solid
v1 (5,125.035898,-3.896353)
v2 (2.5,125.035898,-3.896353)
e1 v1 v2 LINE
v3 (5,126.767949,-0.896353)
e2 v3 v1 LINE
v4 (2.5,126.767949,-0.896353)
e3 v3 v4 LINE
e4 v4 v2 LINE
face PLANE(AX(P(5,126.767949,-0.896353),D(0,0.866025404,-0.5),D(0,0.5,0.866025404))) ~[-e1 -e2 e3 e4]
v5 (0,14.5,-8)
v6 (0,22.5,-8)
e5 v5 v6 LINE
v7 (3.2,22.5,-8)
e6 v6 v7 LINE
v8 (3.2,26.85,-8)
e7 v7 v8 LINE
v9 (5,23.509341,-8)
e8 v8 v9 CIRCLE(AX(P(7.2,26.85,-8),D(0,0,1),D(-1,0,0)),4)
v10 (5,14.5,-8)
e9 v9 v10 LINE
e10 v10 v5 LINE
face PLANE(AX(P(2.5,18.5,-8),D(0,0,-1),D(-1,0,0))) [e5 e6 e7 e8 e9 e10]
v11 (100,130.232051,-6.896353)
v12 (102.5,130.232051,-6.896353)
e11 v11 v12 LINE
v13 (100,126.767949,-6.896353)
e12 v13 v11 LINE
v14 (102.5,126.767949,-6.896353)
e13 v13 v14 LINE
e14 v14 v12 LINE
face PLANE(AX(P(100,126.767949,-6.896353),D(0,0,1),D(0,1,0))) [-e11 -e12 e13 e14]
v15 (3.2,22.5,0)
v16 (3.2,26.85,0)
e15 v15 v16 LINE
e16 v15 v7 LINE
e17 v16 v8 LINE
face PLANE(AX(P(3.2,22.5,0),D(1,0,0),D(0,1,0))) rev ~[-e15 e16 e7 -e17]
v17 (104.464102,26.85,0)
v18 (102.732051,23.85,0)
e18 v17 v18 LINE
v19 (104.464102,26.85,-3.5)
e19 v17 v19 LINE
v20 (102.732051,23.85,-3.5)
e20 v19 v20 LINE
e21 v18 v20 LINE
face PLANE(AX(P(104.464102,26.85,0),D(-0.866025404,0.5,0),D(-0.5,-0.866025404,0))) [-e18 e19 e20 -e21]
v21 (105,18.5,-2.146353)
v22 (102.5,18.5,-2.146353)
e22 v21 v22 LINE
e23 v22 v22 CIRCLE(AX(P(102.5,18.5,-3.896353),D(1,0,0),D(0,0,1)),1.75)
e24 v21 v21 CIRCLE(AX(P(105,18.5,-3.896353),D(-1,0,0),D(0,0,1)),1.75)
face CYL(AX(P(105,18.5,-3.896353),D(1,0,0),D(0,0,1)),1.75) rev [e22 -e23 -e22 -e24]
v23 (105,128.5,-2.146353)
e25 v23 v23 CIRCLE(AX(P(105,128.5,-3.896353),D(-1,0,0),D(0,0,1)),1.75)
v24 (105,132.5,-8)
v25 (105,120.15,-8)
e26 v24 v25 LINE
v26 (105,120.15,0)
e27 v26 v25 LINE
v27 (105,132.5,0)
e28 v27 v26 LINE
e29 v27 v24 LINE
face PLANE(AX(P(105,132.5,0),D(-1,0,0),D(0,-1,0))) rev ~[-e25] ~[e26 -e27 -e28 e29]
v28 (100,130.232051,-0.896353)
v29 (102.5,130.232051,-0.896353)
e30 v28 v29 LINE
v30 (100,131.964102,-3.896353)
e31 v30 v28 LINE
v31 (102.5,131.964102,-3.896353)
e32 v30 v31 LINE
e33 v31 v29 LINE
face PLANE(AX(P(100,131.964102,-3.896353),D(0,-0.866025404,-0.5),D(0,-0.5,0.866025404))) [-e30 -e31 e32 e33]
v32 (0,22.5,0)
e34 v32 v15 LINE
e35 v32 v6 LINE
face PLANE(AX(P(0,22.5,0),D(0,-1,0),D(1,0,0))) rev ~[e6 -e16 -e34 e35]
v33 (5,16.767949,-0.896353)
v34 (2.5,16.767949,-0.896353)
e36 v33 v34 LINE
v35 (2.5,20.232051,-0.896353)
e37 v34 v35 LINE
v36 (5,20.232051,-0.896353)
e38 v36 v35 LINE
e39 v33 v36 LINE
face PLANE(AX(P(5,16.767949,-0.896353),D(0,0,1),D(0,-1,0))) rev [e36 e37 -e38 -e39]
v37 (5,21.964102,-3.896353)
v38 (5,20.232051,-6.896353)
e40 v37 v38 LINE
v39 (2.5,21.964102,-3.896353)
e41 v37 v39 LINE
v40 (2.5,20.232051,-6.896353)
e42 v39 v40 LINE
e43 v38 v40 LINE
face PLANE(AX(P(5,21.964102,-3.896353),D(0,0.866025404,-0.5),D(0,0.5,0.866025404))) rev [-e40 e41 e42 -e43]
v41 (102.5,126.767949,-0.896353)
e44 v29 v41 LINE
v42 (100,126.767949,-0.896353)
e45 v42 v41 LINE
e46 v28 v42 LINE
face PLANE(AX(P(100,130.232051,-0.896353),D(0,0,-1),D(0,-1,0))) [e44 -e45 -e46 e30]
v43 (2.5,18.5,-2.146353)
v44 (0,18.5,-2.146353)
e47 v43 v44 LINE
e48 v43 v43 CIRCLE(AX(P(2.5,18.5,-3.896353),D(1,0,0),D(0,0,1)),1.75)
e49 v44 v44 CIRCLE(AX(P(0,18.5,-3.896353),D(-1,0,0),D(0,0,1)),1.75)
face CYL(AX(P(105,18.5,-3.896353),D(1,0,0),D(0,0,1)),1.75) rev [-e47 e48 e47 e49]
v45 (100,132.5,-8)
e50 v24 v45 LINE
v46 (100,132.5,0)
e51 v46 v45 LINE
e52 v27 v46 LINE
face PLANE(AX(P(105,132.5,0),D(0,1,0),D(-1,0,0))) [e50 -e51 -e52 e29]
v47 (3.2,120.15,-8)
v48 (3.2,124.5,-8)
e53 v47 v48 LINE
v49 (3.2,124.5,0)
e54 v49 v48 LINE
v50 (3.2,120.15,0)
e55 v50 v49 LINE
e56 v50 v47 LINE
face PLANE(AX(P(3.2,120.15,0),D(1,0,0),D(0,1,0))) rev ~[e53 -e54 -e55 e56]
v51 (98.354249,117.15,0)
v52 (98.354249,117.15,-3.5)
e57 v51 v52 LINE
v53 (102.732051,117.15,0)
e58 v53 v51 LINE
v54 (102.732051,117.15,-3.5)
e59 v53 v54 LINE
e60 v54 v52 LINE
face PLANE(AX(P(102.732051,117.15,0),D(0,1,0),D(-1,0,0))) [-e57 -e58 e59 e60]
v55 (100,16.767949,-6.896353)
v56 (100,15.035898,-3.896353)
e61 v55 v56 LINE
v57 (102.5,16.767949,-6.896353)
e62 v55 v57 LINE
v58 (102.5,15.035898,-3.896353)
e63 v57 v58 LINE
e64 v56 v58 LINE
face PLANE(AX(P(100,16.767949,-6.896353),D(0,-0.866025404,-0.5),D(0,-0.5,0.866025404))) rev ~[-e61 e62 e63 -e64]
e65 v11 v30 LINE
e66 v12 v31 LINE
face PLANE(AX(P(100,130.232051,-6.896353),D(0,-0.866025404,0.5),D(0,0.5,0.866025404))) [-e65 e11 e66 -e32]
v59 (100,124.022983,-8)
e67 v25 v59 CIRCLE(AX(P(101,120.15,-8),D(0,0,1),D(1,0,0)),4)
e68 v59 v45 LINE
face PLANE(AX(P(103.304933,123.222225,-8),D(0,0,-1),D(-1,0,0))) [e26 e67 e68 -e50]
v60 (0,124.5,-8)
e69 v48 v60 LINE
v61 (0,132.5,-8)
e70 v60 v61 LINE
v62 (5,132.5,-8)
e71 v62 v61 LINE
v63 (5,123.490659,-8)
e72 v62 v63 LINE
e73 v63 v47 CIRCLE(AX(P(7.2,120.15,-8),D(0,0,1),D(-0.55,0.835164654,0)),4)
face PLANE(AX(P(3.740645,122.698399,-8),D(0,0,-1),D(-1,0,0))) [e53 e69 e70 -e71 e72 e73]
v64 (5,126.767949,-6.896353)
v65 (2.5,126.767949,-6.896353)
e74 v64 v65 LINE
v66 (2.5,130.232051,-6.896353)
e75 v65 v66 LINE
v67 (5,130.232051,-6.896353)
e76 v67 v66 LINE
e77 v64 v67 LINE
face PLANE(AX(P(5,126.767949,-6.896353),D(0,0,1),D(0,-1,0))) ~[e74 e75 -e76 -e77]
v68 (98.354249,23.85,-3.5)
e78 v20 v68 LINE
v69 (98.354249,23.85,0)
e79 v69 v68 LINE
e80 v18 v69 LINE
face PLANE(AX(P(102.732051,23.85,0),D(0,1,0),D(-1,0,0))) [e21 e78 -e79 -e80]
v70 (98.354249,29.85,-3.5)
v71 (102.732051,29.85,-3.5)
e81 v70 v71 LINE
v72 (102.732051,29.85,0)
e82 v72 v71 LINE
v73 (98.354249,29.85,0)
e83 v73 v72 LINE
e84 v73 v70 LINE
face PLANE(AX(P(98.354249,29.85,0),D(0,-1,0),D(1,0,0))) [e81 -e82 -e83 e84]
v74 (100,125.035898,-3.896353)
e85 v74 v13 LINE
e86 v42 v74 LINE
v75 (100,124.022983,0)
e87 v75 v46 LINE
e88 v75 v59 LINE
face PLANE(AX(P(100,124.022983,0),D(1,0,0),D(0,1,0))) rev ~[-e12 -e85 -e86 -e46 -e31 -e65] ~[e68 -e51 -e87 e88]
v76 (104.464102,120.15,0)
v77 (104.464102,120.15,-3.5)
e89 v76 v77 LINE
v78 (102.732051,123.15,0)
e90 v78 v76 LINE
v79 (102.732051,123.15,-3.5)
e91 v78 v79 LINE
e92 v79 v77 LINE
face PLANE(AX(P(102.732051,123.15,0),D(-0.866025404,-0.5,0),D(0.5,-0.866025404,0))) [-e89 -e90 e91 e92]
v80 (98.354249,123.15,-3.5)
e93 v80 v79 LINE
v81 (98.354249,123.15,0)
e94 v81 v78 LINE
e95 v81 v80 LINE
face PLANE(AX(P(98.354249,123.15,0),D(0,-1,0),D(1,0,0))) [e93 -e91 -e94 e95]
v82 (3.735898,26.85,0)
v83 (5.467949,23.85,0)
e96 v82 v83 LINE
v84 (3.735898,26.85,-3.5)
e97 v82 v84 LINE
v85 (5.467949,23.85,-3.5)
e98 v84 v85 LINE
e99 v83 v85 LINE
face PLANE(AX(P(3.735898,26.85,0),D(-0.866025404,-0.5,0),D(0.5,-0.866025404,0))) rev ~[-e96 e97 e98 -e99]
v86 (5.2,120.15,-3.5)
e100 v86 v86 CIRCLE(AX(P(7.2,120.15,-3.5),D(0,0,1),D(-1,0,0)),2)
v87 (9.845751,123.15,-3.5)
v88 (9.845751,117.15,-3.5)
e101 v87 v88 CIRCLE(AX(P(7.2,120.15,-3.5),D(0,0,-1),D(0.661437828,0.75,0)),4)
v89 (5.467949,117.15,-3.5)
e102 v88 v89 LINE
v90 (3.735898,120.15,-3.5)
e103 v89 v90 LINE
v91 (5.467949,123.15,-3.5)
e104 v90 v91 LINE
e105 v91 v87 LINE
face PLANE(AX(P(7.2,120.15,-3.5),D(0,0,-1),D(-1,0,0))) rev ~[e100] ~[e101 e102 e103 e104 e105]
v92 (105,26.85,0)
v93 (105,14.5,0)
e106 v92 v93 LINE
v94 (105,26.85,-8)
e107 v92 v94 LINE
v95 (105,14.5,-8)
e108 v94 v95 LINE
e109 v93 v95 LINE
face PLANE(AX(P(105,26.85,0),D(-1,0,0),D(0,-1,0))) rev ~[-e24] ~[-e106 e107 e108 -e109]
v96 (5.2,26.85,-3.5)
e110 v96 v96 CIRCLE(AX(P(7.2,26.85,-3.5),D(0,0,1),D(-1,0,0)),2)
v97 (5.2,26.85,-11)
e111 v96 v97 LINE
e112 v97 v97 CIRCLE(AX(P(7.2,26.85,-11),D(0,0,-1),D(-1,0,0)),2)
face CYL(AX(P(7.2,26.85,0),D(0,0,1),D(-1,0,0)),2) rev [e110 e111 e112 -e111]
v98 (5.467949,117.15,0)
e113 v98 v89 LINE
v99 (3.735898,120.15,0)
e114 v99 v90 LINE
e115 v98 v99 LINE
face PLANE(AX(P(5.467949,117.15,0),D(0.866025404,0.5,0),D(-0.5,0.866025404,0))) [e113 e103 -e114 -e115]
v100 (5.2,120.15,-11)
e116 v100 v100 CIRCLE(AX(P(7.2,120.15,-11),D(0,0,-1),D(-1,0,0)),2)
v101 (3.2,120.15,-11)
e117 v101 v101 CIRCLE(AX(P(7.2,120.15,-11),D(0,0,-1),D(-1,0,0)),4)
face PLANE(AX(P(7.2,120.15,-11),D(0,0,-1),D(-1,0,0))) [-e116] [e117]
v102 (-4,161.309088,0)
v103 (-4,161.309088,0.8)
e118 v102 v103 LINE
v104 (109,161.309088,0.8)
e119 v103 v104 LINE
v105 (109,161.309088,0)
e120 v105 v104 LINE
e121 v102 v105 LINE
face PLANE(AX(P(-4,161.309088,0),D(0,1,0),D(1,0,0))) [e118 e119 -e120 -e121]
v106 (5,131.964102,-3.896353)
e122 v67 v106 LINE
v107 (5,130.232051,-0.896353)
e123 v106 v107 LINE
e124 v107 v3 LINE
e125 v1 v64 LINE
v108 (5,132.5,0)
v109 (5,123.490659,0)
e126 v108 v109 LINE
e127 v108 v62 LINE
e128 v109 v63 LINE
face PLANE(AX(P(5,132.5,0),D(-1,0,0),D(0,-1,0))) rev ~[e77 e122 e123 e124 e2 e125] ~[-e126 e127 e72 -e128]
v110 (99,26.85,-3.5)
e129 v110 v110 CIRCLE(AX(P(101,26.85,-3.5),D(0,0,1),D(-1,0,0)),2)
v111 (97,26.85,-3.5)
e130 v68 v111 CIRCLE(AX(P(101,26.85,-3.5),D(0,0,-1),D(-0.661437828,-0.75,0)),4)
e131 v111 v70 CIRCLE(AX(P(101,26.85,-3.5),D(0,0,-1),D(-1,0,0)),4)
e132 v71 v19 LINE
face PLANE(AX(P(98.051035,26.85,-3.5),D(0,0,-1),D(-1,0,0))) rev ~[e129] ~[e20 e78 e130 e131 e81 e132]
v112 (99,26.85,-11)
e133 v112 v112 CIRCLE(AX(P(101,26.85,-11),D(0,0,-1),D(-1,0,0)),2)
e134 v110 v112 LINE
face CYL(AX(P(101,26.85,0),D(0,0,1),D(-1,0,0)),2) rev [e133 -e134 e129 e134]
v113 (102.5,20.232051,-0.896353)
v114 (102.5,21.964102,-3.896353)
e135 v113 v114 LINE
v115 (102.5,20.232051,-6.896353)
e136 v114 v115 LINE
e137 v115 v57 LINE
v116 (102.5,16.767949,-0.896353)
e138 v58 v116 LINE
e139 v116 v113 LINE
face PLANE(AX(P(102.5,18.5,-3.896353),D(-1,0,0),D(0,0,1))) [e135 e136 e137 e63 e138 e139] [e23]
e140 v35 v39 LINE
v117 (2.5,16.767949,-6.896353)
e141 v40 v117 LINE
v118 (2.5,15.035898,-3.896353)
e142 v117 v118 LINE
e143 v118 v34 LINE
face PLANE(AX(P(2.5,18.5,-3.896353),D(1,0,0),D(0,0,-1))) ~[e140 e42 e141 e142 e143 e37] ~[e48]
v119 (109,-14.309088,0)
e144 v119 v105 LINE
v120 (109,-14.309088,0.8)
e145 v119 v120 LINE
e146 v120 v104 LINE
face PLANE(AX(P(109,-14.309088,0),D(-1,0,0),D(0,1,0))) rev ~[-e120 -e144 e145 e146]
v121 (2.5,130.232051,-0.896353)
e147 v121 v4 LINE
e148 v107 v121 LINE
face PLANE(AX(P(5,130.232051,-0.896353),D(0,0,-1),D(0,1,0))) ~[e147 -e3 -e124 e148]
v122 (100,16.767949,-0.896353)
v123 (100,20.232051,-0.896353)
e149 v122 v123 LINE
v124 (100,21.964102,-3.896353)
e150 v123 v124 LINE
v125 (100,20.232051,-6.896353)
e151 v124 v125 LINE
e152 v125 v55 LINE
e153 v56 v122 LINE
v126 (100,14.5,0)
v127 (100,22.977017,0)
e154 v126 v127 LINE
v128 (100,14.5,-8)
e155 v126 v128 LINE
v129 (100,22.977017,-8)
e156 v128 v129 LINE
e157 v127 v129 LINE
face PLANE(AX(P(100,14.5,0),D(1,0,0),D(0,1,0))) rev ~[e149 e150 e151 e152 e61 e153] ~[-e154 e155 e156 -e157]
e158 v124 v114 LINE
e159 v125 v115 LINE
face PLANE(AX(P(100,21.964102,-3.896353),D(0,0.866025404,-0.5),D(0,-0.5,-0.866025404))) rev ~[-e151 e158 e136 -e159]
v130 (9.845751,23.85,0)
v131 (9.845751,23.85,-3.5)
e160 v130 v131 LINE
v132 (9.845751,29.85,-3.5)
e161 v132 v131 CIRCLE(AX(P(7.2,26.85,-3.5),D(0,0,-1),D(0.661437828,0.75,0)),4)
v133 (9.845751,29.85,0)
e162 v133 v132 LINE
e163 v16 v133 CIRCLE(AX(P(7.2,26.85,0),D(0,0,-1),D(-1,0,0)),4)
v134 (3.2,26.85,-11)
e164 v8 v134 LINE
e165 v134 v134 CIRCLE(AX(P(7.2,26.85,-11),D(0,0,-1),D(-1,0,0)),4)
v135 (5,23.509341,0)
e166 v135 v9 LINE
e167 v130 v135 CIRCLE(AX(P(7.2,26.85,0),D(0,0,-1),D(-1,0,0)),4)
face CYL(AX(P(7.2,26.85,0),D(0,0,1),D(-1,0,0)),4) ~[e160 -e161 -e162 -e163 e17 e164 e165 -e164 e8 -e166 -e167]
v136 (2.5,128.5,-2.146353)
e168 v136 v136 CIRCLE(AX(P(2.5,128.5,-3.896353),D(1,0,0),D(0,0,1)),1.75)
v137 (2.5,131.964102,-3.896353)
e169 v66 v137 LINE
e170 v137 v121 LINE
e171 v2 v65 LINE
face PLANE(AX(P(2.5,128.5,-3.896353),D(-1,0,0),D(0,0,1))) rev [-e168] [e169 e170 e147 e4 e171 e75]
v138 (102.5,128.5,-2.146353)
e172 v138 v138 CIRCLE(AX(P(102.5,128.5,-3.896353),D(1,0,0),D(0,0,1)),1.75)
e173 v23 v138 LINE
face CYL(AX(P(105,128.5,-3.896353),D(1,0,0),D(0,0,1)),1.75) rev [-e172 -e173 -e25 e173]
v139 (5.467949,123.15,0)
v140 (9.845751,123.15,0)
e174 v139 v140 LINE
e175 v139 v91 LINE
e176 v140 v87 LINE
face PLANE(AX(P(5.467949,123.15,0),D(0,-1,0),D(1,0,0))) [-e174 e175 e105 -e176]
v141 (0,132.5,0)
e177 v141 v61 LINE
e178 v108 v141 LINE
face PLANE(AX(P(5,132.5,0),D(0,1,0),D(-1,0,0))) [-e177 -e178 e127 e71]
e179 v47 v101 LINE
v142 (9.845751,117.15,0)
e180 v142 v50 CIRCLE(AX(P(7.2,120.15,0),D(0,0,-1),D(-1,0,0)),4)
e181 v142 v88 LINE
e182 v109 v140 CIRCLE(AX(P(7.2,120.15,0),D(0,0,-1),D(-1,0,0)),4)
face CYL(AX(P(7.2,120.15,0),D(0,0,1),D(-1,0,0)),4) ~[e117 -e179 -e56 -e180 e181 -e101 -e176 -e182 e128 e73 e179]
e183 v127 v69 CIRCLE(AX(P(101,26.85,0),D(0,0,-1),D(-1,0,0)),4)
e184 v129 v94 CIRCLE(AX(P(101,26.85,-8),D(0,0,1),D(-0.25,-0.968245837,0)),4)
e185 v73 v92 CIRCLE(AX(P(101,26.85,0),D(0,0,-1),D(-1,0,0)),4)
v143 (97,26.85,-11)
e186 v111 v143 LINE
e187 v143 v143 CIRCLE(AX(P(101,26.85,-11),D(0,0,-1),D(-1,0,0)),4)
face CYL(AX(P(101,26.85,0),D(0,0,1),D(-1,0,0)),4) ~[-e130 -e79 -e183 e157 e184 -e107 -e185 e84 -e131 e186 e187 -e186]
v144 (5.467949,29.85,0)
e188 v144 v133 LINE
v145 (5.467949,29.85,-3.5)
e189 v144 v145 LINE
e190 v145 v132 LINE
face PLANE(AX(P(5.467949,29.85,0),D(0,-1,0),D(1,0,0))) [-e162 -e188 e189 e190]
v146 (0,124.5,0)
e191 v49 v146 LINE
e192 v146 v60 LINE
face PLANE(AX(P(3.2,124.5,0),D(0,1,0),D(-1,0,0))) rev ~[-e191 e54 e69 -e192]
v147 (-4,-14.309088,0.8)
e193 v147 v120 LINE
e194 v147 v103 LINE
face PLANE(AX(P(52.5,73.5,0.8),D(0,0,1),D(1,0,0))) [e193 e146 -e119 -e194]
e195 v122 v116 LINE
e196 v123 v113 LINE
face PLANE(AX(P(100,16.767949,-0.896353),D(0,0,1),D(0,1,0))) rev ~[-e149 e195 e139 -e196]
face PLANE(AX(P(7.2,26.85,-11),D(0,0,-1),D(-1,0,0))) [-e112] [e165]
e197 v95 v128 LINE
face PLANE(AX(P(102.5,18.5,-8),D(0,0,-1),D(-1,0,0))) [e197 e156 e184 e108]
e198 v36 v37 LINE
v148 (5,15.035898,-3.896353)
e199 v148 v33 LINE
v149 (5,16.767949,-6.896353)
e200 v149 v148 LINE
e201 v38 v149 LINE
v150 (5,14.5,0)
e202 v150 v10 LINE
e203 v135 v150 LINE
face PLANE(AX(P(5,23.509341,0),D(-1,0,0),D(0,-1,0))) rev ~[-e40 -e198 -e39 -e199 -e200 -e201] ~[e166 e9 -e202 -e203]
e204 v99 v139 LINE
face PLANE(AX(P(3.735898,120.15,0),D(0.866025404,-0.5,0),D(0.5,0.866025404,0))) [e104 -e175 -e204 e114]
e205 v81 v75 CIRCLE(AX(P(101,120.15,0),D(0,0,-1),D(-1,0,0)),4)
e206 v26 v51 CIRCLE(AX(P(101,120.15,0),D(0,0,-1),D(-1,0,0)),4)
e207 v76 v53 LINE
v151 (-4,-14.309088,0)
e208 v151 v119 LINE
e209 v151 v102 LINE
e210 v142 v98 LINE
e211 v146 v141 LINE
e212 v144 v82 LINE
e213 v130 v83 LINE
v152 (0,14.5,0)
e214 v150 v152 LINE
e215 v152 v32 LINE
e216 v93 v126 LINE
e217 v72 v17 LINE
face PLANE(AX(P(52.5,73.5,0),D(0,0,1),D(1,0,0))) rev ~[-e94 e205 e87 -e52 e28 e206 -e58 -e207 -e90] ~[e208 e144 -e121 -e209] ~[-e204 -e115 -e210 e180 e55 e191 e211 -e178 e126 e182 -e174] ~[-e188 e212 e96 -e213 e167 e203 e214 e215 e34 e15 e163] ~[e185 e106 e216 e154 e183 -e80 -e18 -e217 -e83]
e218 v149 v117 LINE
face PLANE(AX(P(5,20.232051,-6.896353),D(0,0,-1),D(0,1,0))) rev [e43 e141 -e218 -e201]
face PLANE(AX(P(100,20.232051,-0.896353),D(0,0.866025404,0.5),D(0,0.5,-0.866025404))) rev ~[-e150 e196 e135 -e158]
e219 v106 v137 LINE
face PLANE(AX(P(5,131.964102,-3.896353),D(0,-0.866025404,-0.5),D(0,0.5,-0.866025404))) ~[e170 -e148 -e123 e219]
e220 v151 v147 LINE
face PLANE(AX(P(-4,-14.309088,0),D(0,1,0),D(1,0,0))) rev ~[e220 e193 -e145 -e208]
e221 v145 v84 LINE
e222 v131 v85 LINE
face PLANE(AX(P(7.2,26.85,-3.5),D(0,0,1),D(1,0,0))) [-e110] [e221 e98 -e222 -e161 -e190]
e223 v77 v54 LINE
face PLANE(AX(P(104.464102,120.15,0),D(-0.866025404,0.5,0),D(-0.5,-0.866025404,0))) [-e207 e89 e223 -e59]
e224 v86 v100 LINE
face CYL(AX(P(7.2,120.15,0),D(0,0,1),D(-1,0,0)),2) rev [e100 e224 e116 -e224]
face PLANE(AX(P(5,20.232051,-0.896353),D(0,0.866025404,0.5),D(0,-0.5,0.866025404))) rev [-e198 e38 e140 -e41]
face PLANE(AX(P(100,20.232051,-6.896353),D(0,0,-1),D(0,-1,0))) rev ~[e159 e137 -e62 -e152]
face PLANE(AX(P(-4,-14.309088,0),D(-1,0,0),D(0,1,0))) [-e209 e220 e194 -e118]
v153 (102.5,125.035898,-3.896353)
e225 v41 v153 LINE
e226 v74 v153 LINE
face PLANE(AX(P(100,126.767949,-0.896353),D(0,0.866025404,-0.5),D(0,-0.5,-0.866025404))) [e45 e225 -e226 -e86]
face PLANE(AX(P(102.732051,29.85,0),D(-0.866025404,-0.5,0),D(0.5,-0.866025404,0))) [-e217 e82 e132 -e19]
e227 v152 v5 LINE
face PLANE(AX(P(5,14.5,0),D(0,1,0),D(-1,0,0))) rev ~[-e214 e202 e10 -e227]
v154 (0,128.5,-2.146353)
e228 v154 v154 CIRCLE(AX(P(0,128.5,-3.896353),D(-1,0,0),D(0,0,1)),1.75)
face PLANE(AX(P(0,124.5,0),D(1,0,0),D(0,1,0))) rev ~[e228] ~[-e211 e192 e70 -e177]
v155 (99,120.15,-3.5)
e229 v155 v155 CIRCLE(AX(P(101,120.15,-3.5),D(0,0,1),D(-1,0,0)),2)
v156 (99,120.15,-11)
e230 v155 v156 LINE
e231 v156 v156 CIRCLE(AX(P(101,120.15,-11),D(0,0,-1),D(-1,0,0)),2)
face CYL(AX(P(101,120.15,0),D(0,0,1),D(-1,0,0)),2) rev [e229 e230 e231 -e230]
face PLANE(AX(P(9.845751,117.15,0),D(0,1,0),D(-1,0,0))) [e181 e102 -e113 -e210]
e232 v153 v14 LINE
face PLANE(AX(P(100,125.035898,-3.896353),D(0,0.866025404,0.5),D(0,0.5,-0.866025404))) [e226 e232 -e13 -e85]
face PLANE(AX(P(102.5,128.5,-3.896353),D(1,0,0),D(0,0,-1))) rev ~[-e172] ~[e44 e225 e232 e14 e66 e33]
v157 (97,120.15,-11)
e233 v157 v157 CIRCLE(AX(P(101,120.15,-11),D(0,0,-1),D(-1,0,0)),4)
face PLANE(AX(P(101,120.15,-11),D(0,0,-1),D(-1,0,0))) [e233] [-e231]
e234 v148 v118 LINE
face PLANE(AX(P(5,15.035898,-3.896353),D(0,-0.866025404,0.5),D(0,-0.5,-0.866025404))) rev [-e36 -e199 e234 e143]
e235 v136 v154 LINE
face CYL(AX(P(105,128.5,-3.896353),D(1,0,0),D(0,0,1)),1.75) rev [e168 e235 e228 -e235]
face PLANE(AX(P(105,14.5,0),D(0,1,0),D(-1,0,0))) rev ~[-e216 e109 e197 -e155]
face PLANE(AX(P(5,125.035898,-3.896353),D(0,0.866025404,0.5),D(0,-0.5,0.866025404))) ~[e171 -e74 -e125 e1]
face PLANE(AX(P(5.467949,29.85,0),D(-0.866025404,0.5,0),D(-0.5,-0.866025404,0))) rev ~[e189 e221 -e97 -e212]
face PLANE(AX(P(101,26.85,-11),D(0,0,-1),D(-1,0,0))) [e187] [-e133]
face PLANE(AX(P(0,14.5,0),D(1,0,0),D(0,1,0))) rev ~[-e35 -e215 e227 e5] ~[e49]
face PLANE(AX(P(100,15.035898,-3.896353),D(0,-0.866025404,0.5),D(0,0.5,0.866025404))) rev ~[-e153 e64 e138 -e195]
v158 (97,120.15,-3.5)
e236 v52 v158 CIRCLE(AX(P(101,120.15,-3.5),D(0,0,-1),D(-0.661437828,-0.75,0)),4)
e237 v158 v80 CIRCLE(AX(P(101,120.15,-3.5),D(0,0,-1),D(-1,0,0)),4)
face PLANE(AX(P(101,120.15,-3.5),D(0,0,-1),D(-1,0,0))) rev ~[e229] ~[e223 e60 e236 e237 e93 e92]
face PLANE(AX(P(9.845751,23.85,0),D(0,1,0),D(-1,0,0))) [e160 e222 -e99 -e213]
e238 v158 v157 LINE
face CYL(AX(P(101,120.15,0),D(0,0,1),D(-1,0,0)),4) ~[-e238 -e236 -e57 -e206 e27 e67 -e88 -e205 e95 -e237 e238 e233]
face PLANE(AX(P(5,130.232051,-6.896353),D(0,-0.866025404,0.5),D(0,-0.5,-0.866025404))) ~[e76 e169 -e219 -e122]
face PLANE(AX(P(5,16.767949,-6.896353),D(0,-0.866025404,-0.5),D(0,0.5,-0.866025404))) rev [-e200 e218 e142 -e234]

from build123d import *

# Parameters (mm, degrees)
SKETCH1_W           = 113
SKETCH1_H           = 175.618176042
BOSS_EXTRUDE1_DEPTH = 0.8
SKETCH2_R           = 4
SKETCH2_R_2         = 2
BOSS_EXTRUDE2_DEPTH = 11
CUT_EXTRUDE1_DEPTH  = 3.5
SKETCH4_W           = 5
SKETCH4_H           = 8
BOSS_EXTRUDE3_DEPTH = 8
SKETCH5_R           = 1.75
CUT_EXTRUDE2_DEPTH  = 105
CUT_EXTRUDE3_DEPTH  = 2.5


with BuildPart() as part:
    # Sketch1 → Boss-Extrude1 (new body)
    with BuildSketch(Plane.XY):
        with Locations((52.5, 73.5)):
            Rectangle(SKETCH1_W, SKETCH1_H)
    extrude(amount=BOSS_EXTRUDE1_DEPTH)

    # Sketch2 → Boss-Extrude2 (add)
    with BuildSketch(Plane(origin=(0, 0, 0), x_dir=(-1, 0, 0), z_dir=(0, 0, -1))):
        with Locations((-7.2, 120.15)):
            Circle(SKETCH2_R)
        with Locations((-7.2, 120.15)):
            Circle(SKETCH2_R_2, mode=Mode.SUBTRACT)
        with Locations((-7.2, 26.85)):
            Circle(SKETCH2_R)
        with Locations((-7.2, 26.85)):
            Circle(SKETCH2_R_2, mode=Mode.SUBTRACT)
        with Locations((-101, 26.85)):
            Circle(SKETCH2_R)
        with Locations((-101, 26.85)):
            Circle(SKETCH2_R_2, mode=Mode.SUBTRACT)
        with Locations((-101, 120.15)):
            Circle(SKETCH2_R)
        with Locations((-101, 120.15)):
            Circle(SKETCH2_R_2, mode=Mode.SUBTRACT)
    extrude(amount=BOSS_EXTRUDE2_DEPTH)

    # Sketch3 → Cut-Extrude1 (cut)
    with BuildSketch(Plane(origin=(0, 0, 0), x_dir=(-1, 0, 0), z_dir=(0, 0, -1))):
        Polygon((-5.467949192, 123.15), (-8.932050808, 123.15), (-10.664101615, 120.15), (-8.932050808, 117.15), (-5.467949192, 117.15), (-3.735898385, 120.15), align=None)
        with BuildLine():
            Line((-10.664101615, 120.15), (-8.932050808, 123.15))
            Line((-8.932050808, 123.15), (-9.845751311, 123.15))
            ThreePointArc((-9.845751311, 123.15), (-11.2, 120.15), (-9.845751311, 117.15))
            Line((-9.845751311, 117.15), (-8.932050808, 117.15))
            Line((-8.932050808, 117.15), (-10.664101615, 120.15))
        make_face()
        Polygon((-102.732050808, 117.15), (-99.267949192, 117.15), (-97.535898385, 120.15), (-99.267949192, 123.15), (-102.732050808, 123.15), (-104.464101615, 120.15), align=None)
        with BuildLine():
            Line((-98.354248689, 123.15), (-99.267949192, 123.15))
            Line((-99.267949192, 123.15), (-97.535898385, 120.15))
            Line((-97.535898385, 120.15), (-99.267949192, 117.15))
            Line((-99.267949192, 117.15), (-98.354248689, 117.15))
            ThreePointArc((-98.354248689, 117.15), (-97.354248689, 118.504248689), (-97, 120.15))
            ThreePointArc((-97, 120.15), (-97.354248689, 121.795751311), (-98.354248689, 123.15))
        make_face()
        with BuildLine():
            Line((-99.267949192, 29.85), (-97.535898385, 26.85))
            Line((-97.535898385, 26.85), (-99.267949192, 23.85))
            Line((-99.267949192, 23.85), (-98.354248689, 23.85))
            ThreePointArc((-98.354248689, 23.85), (-97.354248689, 25.204248689), (-97, 26.85))
            ThreePointArc((-97, 26.85), (-97.354248689, 28.495751311), (-98.354248689, 29.85))
            Line((-98.354248689, 29.85), (-99.267949192, 29.85))
        make_face()
        Polygon((-102.732050808, 23.85), (-99.267949192, 23.85), (-97.535898385, 26.85), (-99.267949192, 29.85), (-102.732050808, 29.85), (-104.464101615, 26.85), align=None)
        Polygon((-5.467949192, 23.85), (-8.932050808, 23.85), (-10.664101615, 26.85), (-8.932050808, 29.85), (-5.467949192, 29.85), (-3.735898385, 26.85), align=None)
        with BuildLine():
            Line((-10.664101615, 26.85), (-8.932050808, 29.85))
            Line((-8.932050808, 29.85), (-9.845751311, 29.85))
            ThreePointArc((-9.845751311, 29.85), (-11.2, 26.85), (-9.845751311, 23.85))
            Line((-9.845751311, 23.85), (-8.932050808, 23.85))
            Line((-8.932050808, 23.85), (-10.664101615, 26.85))
        make_face()
    extrude(amount=CUT_EXTRUDE1_DEPTH, mode=Mode.SUBTRACT)

    # Sketch4 → Boss-Extrude3 (add)
    with BuildSketch(Plane(origin=(0, 0, 0), x_dir=(-1, 0, 0), z_dir=(0, 0, -1))):
        with Locations((-102.5, 18.5)):
            Rectangle(SKETCH4_W, SKETCH4_H)
        with BuildLine():
            Line((-105, 26.85), (-105, 22.5))
            Line((-105, 22.5), (-100, 22.5))
            Line((-100, 22.5), (-100, 22.977016654))
            ThreePointArc((-100, 22.977016654), (-103.449489743, 23.68772234), (-105, 26.85))
        make_face()
        with BuildLine():
            Line((-105, 124.5), (-105, 120.15))
            ThreePointArc((-105, 120.15), (-103.449489743, 123.31227766), (-100, 124.022983346))
            Line((-100, 124.022983346), (-100, 124.5))
            Line((-100, 124.5), (-105, 124.5))
        make_face()
        with Locations((-102.5, 128.5)):
            Rectangle(SKETCH4_W, SKETCH4_H)
        with BuildLine():
            Line((-3.2, 120.15), (-3.2, 124.5))
            Line((-3.2, 124.5), (-5, 124.5))
            Line((-5, 124.5), (-5, 123.490658618))
            ThreePointArc((-5, 123.490658618), (-3.678636628, 122.047366596), (-3.2, 120.15))
        make_face()
        with Locations((-2.5, 128.5)):
            Rectangle(SKETCH4_W, SKETCH4_H)
        Polygon((-5, 14.5), (0, 14.5), (0, 22.5), (-3.2, 22.5), (-5, 22.5), align=None)
        with BuildLine():
            Line((-5, 23.509341382), (-5, 22.5))
            Line((-5, 22.5), (-3.2, 22.5))
            Line((-3.2, 22.5), (-3.2, 26.85))
            ThreePointArc((-3.2, 26.85), (-3.678636628, 24.952633404), (-5, 23.509341382))
        make_face()
    extrude(amount=BOSS_EXTRUDE3_DEPTH)

    # Sketch5 → Cut-Extrude2 (cut)
    with BuildSketch(Plane.ZY.offset(-105)):
        with Locations((-3.896353455, 128.5)):
            Circle(SKETCH5_R)
        with Locations((-3.896353455, 18.5)):
            Circle(SKETCH5_R)
    extrude(amount=CUT_EXTRUDE2_DEPTH, mode=Mode.SUBTRACT)

    # Sketch6 → Cut-Extrude3 (cut)
    with BuildSketch(Plane.ZY.offset(-100)):
        Polygon((-3.896353455, 21.964101615), (-6.896353455, 20.232050808), (-6.896353455, 16.767949192), (-3.896353455, 15.035898385), (-0.896353455, 16.767949192), (-0.896353455, 20.232050808), align=None)
        Polygon((-0.896353455, 130.232050808), (-0.896353455, 126.767949192), (-3.896353455, 125.035898385), (-6.896353455, 126.767949192), (-6.896353455, 130.232050808), (-3.896353455, 131.964101615), align=None)
    cut_extrude3 = extrude(amount=-CUT_EXTRUDE3_DEPTH, mode=Mode.SUBTRACT)

    # Mirror1: Cut-Extrude3 across plane
    add(cut_extrude3.mirror(Plane.ZY.offset(-52.5)), mode=Mode.SUBTRACT)


solid = part.part
